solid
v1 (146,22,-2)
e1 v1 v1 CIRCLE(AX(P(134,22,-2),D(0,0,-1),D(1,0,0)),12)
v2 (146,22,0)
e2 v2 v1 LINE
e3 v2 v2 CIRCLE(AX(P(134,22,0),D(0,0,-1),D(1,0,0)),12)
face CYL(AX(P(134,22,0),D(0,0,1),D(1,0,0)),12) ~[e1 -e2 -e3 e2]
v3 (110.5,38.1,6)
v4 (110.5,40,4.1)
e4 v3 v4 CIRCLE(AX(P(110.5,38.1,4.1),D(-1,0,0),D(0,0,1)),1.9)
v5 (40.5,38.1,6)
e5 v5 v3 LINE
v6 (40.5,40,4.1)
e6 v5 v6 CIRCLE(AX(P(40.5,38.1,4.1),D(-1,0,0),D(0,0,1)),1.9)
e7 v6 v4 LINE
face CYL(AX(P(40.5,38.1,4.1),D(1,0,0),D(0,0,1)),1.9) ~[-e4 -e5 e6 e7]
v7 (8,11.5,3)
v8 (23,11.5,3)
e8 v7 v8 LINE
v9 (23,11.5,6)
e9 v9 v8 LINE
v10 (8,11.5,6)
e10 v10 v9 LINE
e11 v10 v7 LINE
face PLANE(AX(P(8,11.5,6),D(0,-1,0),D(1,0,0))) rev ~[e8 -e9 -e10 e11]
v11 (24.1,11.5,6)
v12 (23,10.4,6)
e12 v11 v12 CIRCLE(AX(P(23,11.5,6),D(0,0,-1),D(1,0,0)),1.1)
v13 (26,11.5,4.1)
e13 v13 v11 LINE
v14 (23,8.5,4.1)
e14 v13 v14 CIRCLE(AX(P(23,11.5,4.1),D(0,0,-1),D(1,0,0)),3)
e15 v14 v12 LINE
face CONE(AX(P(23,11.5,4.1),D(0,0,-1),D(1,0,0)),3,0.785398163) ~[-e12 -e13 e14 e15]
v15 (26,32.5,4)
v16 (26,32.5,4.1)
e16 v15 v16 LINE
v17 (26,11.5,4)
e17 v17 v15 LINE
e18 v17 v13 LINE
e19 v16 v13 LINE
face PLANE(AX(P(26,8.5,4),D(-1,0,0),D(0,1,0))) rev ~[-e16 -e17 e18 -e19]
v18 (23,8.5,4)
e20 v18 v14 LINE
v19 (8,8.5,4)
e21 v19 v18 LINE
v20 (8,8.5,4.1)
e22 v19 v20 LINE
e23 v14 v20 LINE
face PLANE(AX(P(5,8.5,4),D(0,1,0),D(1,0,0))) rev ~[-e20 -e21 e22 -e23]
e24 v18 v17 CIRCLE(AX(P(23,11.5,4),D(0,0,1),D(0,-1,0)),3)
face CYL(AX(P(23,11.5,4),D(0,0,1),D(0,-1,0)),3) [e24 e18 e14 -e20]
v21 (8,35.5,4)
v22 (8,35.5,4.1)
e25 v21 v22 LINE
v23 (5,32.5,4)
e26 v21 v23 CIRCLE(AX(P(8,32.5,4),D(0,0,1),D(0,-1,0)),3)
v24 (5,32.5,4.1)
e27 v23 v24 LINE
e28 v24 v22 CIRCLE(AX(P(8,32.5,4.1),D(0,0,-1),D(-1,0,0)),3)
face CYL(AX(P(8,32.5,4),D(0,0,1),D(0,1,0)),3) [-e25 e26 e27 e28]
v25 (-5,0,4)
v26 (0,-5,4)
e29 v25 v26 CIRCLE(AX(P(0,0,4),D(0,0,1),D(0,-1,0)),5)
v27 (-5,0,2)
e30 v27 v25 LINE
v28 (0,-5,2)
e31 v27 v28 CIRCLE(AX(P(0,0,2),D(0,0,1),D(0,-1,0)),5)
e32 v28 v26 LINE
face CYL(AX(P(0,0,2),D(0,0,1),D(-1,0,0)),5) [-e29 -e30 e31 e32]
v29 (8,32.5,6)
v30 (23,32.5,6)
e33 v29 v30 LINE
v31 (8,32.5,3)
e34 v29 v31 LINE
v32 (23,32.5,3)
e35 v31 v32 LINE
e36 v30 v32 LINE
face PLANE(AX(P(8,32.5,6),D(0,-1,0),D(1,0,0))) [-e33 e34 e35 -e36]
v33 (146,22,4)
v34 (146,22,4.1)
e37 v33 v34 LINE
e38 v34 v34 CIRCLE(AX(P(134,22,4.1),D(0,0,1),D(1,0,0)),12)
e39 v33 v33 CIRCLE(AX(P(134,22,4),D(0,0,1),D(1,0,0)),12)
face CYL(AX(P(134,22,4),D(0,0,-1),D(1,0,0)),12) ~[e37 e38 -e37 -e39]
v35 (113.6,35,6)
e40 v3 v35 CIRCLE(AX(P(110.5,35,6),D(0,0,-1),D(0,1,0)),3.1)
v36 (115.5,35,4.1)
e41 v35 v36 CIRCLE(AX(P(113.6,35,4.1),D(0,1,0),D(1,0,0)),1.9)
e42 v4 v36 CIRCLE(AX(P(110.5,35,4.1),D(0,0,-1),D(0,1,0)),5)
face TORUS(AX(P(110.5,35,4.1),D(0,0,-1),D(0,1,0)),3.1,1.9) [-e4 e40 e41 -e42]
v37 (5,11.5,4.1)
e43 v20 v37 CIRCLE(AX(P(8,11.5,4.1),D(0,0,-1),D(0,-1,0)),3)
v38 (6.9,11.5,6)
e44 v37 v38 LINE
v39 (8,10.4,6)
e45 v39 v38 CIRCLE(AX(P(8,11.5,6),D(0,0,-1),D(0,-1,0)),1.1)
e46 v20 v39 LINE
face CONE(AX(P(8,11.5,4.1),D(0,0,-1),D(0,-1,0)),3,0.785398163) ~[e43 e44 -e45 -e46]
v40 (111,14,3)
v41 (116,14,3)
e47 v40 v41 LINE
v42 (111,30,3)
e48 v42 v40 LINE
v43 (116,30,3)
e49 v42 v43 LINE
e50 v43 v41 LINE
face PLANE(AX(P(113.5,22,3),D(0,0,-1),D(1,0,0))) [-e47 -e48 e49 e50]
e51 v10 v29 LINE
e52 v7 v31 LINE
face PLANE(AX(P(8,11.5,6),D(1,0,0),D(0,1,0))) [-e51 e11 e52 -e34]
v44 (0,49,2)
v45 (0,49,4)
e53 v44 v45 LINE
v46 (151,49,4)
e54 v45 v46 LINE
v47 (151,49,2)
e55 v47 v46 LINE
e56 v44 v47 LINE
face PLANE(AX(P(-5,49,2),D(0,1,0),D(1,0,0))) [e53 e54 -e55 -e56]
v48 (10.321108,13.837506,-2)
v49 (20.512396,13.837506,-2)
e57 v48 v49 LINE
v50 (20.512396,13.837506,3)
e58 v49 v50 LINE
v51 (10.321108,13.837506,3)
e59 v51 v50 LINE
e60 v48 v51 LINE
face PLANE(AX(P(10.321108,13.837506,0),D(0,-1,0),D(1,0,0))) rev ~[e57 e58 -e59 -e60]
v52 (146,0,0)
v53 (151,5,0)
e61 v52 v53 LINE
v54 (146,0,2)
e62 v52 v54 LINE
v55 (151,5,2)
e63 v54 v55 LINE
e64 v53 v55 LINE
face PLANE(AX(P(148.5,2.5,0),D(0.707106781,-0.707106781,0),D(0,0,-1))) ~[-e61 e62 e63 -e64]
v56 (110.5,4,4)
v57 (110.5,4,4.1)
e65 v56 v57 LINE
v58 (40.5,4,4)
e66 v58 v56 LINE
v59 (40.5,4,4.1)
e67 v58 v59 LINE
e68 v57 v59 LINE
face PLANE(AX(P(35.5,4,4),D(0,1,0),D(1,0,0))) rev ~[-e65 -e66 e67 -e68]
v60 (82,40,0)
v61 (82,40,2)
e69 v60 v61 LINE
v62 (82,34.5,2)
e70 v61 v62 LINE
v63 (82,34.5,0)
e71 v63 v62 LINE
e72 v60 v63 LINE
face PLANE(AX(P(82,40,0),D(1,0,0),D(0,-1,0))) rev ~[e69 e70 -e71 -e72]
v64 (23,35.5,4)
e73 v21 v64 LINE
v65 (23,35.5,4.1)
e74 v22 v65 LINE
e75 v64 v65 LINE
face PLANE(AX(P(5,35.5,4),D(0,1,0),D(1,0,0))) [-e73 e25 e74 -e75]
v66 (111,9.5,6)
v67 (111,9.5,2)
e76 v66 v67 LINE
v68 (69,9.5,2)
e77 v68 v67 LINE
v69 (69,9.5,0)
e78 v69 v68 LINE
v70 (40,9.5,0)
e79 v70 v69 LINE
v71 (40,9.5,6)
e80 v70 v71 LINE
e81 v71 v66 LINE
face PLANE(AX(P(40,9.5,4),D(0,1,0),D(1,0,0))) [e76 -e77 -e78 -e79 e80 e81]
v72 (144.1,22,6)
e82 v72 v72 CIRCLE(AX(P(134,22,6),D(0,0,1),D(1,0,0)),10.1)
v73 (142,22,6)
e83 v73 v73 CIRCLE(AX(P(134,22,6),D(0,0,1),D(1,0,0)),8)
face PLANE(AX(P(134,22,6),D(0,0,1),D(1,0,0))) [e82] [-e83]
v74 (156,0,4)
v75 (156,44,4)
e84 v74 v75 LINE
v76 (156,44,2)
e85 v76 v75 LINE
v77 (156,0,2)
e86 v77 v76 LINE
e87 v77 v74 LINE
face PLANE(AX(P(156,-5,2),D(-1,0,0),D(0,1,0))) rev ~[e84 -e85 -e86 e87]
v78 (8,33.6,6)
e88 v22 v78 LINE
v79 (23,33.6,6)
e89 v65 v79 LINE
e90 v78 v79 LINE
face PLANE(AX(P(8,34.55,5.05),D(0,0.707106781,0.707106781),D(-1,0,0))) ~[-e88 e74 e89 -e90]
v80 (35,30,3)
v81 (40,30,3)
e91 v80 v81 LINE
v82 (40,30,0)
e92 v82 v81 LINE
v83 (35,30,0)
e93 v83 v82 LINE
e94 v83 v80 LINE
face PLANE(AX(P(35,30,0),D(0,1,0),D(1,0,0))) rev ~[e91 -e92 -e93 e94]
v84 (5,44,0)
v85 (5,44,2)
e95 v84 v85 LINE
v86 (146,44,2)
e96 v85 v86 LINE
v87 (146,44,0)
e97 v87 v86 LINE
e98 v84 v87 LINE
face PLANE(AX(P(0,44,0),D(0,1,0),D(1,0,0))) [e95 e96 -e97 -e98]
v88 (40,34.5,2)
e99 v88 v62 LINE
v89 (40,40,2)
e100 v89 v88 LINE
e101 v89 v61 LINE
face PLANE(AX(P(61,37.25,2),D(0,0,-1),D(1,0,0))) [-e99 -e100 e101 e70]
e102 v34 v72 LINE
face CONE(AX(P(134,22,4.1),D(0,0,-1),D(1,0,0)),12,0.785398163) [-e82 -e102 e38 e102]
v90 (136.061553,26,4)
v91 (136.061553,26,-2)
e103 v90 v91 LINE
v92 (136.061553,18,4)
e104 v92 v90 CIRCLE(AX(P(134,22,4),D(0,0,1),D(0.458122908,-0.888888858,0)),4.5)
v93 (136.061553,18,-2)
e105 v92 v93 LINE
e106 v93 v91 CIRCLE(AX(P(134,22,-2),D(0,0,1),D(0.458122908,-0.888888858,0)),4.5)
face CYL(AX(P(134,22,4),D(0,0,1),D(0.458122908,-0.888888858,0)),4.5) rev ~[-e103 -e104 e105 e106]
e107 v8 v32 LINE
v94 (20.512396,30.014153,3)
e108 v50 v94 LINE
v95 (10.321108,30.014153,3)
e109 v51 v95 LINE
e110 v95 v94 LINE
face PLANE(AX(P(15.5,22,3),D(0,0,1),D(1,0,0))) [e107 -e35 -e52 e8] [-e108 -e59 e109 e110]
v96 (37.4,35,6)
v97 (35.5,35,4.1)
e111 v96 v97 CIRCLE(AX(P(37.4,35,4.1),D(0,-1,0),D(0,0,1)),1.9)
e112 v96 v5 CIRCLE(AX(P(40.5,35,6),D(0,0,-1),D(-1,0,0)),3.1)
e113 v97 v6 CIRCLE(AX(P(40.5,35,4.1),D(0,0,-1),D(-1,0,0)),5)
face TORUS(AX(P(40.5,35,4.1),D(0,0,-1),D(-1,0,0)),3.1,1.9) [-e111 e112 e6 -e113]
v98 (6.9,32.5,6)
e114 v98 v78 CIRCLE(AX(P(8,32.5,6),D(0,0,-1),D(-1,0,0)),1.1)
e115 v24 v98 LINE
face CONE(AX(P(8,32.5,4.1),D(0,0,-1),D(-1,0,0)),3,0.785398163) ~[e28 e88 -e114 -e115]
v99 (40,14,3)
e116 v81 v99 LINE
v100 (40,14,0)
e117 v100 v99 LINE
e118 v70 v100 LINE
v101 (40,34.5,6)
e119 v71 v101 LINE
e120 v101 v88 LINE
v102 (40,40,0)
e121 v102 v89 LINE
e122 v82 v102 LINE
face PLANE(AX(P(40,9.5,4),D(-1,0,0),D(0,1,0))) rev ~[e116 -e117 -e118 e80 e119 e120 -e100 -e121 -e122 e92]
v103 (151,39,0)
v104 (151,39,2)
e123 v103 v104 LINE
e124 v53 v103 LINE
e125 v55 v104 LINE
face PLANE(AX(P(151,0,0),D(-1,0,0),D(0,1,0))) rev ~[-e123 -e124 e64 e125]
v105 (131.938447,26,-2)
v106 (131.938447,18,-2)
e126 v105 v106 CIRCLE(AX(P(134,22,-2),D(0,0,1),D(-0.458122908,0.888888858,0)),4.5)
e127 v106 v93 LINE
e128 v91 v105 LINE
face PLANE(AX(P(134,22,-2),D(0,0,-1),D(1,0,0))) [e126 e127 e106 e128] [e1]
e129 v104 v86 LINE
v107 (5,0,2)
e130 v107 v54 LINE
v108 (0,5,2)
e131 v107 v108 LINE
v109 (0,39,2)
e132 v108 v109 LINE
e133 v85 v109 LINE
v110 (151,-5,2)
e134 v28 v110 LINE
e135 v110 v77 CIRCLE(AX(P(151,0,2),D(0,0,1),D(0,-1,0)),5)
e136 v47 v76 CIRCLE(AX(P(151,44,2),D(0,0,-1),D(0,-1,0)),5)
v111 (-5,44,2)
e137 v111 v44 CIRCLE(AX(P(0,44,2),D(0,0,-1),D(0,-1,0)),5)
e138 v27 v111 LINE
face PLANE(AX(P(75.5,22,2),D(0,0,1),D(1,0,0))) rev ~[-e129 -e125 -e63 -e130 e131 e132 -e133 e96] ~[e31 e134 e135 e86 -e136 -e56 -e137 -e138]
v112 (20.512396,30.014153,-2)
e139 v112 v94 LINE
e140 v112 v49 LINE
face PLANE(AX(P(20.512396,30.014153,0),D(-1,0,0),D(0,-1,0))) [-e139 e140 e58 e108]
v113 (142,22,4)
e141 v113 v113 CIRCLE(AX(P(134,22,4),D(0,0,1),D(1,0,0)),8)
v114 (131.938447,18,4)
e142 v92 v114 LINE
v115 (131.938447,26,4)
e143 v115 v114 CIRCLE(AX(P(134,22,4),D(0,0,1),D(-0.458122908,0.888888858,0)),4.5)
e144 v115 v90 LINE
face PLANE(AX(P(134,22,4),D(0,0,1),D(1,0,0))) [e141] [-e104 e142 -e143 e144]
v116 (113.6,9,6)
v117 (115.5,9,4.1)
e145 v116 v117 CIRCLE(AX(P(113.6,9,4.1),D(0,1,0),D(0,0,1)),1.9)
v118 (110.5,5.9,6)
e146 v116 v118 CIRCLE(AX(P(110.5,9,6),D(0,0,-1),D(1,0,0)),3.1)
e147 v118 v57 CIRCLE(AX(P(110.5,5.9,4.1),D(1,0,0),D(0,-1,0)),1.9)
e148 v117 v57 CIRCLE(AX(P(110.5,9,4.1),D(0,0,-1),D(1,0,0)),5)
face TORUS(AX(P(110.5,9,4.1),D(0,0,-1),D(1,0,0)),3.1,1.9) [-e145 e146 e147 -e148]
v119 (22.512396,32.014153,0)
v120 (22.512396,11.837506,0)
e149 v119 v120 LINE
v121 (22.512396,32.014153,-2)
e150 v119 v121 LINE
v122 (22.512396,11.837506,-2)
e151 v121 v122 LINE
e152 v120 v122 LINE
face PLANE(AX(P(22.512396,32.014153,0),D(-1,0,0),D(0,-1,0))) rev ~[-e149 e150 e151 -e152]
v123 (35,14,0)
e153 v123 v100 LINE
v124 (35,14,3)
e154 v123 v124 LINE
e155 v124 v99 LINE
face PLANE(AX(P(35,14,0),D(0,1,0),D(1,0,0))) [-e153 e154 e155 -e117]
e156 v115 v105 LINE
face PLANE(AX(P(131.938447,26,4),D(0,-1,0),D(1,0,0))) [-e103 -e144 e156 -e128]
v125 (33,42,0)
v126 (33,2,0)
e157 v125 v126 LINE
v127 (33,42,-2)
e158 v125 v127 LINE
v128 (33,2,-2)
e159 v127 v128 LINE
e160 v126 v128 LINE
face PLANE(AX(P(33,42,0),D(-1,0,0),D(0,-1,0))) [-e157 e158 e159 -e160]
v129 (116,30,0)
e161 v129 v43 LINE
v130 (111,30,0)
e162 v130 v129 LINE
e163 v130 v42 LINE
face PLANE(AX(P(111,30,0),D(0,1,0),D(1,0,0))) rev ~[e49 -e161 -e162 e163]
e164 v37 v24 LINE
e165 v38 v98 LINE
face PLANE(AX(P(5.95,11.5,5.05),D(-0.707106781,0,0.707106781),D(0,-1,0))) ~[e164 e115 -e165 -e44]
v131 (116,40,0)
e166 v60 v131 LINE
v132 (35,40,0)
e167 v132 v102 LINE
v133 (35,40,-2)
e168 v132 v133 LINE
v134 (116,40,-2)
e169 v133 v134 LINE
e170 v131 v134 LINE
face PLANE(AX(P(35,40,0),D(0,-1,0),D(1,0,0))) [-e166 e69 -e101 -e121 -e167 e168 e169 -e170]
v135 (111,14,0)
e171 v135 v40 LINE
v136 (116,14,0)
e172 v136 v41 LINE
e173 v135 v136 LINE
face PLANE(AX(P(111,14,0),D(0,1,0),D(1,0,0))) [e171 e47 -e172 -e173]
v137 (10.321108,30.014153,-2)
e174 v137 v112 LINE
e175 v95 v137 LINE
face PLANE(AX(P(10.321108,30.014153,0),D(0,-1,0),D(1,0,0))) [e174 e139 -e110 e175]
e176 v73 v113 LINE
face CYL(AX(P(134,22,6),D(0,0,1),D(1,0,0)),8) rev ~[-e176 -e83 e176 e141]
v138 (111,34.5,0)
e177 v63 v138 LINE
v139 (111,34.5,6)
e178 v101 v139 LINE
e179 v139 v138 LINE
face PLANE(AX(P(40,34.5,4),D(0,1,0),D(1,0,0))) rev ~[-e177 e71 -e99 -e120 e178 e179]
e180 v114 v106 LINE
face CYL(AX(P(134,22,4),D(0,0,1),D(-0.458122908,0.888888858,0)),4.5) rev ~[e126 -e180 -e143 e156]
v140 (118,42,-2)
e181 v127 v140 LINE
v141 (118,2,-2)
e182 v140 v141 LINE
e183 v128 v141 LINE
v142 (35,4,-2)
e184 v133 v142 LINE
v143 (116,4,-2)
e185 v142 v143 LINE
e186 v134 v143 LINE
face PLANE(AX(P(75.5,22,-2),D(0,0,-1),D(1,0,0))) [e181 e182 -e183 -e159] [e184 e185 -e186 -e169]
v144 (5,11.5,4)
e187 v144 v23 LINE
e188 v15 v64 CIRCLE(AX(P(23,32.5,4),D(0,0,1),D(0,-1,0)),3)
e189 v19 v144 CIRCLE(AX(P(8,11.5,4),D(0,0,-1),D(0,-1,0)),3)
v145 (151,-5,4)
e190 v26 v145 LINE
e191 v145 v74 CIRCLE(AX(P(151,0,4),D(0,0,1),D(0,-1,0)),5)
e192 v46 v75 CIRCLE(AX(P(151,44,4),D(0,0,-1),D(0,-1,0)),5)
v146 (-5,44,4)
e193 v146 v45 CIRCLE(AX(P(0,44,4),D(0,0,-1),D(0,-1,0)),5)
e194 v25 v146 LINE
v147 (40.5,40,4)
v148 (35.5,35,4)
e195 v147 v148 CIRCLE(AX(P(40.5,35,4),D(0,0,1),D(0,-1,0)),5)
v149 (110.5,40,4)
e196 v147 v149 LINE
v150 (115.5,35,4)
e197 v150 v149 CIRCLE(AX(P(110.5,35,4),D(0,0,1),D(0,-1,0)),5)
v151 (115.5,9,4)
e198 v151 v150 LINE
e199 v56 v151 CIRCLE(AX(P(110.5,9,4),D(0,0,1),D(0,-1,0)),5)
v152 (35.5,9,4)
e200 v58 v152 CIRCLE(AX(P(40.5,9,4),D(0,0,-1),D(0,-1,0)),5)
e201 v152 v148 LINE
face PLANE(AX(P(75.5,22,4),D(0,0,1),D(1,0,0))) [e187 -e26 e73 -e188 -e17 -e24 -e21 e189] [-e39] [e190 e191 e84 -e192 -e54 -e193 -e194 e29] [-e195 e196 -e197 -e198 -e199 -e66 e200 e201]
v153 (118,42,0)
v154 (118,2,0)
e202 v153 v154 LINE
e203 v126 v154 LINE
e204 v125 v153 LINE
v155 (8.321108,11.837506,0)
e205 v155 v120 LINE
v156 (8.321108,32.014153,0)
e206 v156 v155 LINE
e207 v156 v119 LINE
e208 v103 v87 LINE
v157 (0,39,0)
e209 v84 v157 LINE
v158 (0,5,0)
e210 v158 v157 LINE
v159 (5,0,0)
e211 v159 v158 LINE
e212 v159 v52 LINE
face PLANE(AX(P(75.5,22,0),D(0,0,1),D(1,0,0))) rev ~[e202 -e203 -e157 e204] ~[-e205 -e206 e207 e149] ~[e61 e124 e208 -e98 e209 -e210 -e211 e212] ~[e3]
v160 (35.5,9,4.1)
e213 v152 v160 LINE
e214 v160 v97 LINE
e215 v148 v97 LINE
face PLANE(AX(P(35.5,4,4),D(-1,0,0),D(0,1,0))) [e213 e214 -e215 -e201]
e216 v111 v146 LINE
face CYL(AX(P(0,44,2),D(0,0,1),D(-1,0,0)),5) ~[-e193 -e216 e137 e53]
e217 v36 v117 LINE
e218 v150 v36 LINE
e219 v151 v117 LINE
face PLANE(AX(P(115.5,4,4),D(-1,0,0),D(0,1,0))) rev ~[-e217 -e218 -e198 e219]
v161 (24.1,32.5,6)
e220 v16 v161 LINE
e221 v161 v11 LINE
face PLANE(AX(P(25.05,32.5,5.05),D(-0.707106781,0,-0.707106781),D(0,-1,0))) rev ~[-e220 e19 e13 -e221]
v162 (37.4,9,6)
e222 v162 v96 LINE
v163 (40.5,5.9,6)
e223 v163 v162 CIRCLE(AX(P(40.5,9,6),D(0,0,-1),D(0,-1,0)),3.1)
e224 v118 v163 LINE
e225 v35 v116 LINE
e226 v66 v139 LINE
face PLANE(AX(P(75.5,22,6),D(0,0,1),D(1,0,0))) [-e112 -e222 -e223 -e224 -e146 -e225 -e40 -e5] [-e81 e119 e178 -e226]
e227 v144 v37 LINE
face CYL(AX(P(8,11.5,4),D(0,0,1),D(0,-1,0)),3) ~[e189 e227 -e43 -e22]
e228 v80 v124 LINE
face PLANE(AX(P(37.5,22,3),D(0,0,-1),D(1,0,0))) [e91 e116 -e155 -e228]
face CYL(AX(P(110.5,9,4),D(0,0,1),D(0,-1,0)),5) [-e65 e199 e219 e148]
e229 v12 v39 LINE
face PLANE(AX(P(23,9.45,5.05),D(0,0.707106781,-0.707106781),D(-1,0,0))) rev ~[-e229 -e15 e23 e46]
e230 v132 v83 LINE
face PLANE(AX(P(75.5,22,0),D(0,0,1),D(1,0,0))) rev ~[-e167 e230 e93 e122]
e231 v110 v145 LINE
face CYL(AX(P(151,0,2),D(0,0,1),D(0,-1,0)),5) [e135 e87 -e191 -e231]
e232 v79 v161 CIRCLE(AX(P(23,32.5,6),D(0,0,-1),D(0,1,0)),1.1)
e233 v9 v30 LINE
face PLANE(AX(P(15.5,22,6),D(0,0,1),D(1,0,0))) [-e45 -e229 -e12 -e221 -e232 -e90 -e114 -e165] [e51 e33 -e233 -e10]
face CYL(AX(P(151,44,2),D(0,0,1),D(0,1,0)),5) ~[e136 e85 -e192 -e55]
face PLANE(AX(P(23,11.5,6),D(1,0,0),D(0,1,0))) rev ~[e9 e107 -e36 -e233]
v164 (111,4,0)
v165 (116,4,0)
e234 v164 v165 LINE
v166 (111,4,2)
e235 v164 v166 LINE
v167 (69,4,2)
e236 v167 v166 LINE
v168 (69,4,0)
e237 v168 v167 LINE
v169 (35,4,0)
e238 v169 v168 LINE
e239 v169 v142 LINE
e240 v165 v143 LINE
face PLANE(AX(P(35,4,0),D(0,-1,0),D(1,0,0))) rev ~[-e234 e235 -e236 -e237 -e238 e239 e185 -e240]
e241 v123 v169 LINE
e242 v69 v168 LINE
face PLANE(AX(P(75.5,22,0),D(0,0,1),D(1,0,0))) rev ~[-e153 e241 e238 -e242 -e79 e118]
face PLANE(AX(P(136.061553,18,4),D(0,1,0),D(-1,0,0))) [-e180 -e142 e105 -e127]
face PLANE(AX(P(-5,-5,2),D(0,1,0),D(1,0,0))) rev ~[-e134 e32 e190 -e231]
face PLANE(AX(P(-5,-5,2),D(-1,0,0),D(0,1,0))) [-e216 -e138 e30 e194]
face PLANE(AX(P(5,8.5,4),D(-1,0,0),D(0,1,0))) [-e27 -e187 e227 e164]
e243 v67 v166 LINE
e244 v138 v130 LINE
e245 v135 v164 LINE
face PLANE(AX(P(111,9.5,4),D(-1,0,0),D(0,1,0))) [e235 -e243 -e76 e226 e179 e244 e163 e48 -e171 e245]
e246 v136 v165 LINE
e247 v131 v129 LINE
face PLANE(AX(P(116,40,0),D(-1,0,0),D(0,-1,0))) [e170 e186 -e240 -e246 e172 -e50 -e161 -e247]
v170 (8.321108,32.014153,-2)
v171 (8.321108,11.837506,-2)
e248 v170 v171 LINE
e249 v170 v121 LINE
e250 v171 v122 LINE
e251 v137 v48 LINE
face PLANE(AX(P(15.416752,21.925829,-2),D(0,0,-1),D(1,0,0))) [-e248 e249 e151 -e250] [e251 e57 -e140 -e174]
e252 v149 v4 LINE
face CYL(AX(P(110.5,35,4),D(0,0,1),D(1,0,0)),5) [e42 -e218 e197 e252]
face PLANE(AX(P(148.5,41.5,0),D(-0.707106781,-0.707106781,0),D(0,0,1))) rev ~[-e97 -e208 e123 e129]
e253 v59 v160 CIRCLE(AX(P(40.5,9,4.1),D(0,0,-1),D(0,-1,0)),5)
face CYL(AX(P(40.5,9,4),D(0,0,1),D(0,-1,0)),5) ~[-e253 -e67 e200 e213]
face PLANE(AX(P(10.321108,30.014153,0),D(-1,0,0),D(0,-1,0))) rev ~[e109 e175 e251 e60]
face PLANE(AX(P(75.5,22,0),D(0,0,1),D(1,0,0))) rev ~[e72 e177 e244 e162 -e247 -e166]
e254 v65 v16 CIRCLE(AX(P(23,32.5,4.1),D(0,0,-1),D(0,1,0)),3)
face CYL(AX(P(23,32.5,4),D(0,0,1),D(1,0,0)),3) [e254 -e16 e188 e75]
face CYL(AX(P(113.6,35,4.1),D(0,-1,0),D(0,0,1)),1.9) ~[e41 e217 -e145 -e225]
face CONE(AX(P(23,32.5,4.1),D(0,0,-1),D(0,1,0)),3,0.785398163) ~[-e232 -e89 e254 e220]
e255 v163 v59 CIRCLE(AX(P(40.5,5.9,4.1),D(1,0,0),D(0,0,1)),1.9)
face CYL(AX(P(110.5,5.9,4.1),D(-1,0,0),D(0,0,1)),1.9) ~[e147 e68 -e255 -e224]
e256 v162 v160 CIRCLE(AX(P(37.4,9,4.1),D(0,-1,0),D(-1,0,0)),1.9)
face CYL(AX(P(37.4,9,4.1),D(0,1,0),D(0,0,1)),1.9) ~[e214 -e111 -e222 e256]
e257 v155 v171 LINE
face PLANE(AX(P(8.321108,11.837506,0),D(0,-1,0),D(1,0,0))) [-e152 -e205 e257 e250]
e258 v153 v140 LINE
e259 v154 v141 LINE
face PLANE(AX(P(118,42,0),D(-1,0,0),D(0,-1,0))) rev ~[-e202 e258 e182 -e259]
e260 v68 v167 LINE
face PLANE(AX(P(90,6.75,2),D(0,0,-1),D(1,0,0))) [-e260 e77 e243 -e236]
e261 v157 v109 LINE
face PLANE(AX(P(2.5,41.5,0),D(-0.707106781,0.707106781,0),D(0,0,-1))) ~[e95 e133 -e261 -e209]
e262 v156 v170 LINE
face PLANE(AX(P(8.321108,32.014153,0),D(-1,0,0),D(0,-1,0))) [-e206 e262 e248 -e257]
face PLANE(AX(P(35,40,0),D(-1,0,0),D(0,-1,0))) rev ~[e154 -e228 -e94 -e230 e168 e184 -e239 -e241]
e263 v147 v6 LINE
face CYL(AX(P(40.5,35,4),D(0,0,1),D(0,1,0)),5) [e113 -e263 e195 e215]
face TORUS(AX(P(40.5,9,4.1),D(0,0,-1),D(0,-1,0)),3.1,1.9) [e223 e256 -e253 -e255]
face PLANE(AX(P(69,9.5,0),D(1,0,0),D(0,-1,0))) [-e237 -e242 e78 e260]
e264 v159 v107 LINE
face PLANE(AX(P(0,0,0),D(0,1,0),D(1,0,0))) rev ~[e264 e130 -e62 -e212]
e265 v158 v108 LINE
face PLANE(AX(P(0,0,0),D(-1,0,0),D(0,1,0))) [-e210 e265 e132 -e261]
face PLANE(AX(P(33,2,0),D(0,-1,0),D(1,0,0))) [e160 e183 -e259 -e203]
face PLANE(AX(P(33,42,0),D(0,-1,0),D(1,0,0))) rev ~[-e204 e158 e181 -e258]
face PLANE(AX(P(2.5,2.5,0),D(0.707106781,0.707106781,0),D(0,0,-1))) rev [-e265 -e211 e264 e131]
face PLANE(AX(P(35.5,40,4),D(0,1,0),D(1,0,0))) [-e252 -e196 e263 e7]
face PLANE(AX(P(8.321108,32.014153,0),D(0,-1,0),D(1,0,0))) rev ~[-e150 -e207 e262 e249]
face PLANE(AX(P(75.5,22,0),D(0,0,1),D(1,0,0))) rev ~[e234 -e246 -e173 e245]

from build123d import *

# Parameters (mm, degrees)
SKETCH_W        = 151
SKETCH_H        = 44
PAD_DEPTH       = 2
SKETCH001_W     = 161
SKETCH001_H     = 54
PAD001_DEPTH    = 2
SKETCH002_W     = 21
SKETCH002_H     = 27
PAD002_DEPTH    = 2
SKETCH003_W     = 15
SKETCH003_H     = 21
POCKET_DEPTH    = 3
SKETCH004_W     = 10.191287
SKETCH004_H     = 16.176647
POCKET001_DEPTH = 3.001
CHAMFER_SIZE    = 5
FILLET_R        = 5
FILLET001_R     = 3
CHAMFER001_SIZE = 1.9
SKETCH005_R     = 12
PAD003_DEPTH    = 2
SKETCH006_R     = 8
POCKET002_DEPTH = 2
CHAMFER002_SIZE = 1.9
SKETCH007_R     = 12
PAD004_DEPTH    = 2
POCKET003_DEPTH = 6.001
SKETCH009_W     = 80
SKETCH009_H     = 36
SKETCH009_W_2   = 71
SKETCH009_H_2   = 25
PAD005_DEPTH    = 2
FILLET002_R     = 5
SKETCH010_W     = 71
SKETCH010_H     = 25
POCKET004_DEPTH = 6.001
FILLET003_R     = 1.9
SKETCH011_W     = 85
SKETCH011_H     = 40
SKETCH011_W_2   = 81
SKETCH011_H_2   = 36
PAD006_DEPTH    = 2
SKETCH012_W     = 42
SKETCH012_H     = 5.5
POCKET005_DEPTH = 2
SKETCH013_W     = 5
SKETCH013_H     = 16
POCKET006_DEPTH = 3
SKETCH014_W     = 14.191287
SKETCH014_H     = 20.176647
SKETCH014_W_2   = 10.191287
SKETCH014_H_2   = 16.176647
PAD007_DEPTH    = 2


with BuildPart() as part:
    # Sketch → Pad (new body)
    with BuildSketch(Plane.XY):
        with Locations((75.5, 22)):
            Rectangle(SKETCH_W, SKETCH_H)
    extrude(amount=PAD_DEPTH)

    # Sketch001 (on Face6 of Pad) → Pad001 (join)
    with BuildSketch(Plane.XY.offset(2)):
        with Locations((75.5, 22)):
            Rectangle(SKETCH001_W, SKETCH001_H)
    extrude(amount=PAD001_DEPTH)

    # Sketch002 (on Face11 of Pad001) → Pad002 (join)
    with BuildSketch(Plane.XY.offset(4)):
        with Locations((15.5, 22)):
            Rectangle(SKETCH002_W, SKETCH002_H)
    extrude(amount=PAD002_DEPTH)

    # Sketch003 (on Face16 of Pad002) → Pocket (cut)
    with BuildSketch(Plane.XY.offset(6)):
        with Locations((15.5, 22)):
            Rectangle(SKETCH003_W, SKETCH003_H)
    extrude(amount=-POCKET_DEPTH, mode=Mode.SUBTRACT)

    # Sketch004 (on Face21 of Pocket) → Pocket001 (cut, through all)
    with BuildSketch(Plane.XY.offset(3)):
        with Locations((15.416752, 21.925829)):
            Rectangle(SKETCH004_W, SKETCH004_H)
    extrude(amount=-POCKET001_DEPTH, mode=Mode.SUBTRACT)

    # Chamfer
    chamfer_edges = [part.edges().sort_by_distance(p)[0] for p in [
        (151, 0, 1),
        (151, 44, 1),
        (0, 44, 1),
        (0, 0, 1),
    ]]
    chamfer(chamfer_edges, length=CHAMFER_SIZE)

    # Fillet
    fillet_edges = [part.edges().sort_by_distance(p)[0] for p in [
        (-5, -5, 3),
        (-5, 49, 3),
        (156, -5, 3),
        (156, 49, 3),
    ]]
    fillet(fillet_edges, radius=FILLET_R)

    # Fillet001
    fillet001_edges = [part.edges().sort_by_distance(p)[0] for p in [
        (26, 8.5, 5),
        (26, 35.5, 5),
        (5, 8.5, 5),
        (5, 35.5, 5),
    ]]
    fillet(fillet001_edges, radius=FILLET001_R)

    # Chamfer001
    chamfer001_edges = [part.edges().sort_by_distance(p)[0] for p in [
        (5, 22, 6),
    ]]
    chamfer(chamfer001_edges, length=CHAMFER001_SIZE)

    # Sketch005 (on Face4 of Chamfer001) → Pad003 (join)
    with BuildSketch(Plane.XY.offset(4)):
        with Locations((134, 22)):
            Circle(SKETCH005_R)
    extrude(amount=PAD003_DEPTH)

    # Sketch006 (on Face33 of Pad003) → Pocket002 (cut)
    with BuildSketch(Plane.XY.offset(6)):
        with Locations((134, 22)):
            Circle(SKETCH006_R)
    extrude(amount=-POCKET002_DEPTH, mode=Mode.SUBTRACT)

    # Chamfer002
    chamfer002_edges = [part.edges().sort_by_distance(p)[0] for p in [
        (122, 22, 6),
    ]]
    chamfer(chamfer002_edges, length=CHAMFER002_SIZE)

    # Sketch007 (on Face41 of Chamfer002) → Pad004 (join)
    with BuildSketch(Plane(origin=(0, 0, 0), x_dir=(1, 0, 0), z_dir=(0, 0, -1))):
        with Locations((134, -22)):
            Circle(SKETCH007_R)
    extrude(amount=PAD004_DEPTH)

    # Sketch008 (on Face31 of Pad004) → Pocket003 (cut, through all)
    with BuildSketch(Plane.XY.offset(4)):
        with BuildLine():
            ThreePointArc((131.938447, 26), (129.5, 22), (131.938447, 18))
            Line((136.061553, 18), (131.938447, 18))
            ThreePointArc((136.061553, 18), (138.5, 22), (136.061553, 26))
            Line((131.938447, 26), (136.061553, 26))
        make_face()
    extrude(amount=-POCKET003_DEPTH, mode=Mode.SUBTRACT)

    # Sketch009 (on Face3 of Pocket003) → Pad005 (join)
    with BuildSketch(Plane.XY.offset(4)):
        with Locations((75.5, 22)):
            Rectangle(SKETCH009_W, SKETCH009_H)
        with Locations((75.5, 22)):
            Rectangle(SKETCH009_W_2, SKETCH009_H_2, mode=Mode.SUBTRACT)
    extrude(amount=PAD005_DEPTH)

    # Fillet002
    fillet002_edges = [part.edges().sort_by_distance(p)[0] for p in [
        (115.5, 4, 5),
        (115.5, 40, 5),
        (35.5, 4, 5),
        (35.5, 40, 5),
    ]]
    fillet(fillet002_edges, radius=FILLET002_R)

    # Sketch010 (on Face52 of Fillet002) → Pocket004 (cut, through all)
    with BuildSketch(Plane.XY.offset(4)):
        with Locations((75.5, 22)):
            Rectangle(SKETCH010_W, SKETCH010_H)
    extrude(amount=-POCKET004_DEPTH, mode=Mode.SUBTRACT)

    # Fillet003
    fillet003_edges = [part.edges().sort_by_distance(p)[0] for p in [
        (75.5, 40, 6),
    ]]
    fillet(fillet003_edges, radius=FILLET003_R)

    # Sketch011 (on Face64 of Fillet003) → Pad006 (join)
    with BuildSketch(Plane(origin=(0, 0, 0), x_dir=(1, 0, 0), z_dir=(0, 0, -1))):
        with Locations((75.5, -22)):
            Rectangle(SKETCH011_W, SKETCH011_H)
        with Locations((75.5, -22)):
            Rectangle(SKETCH011_W_2, SKETCH011_H_2, mode=Mode.SUBTRACT)
    extrude(amount=PAD006_DEPTH)

    # Sketch012 (on Face64 of Pad006) → Pocket005 (cut)
    with BuildSketch(Plane(origin=(0, 0, 0), x_dir=(1, 0, 0), z_dir=(0, 0, -1))):
        with Locations((90, -6.75)):
            Rectangle(SKETCH012_W, SKETCH012_H)
        with Locations((61, -37.25)):
            Rectangle(SKETCH012_W, SKETCH012_H)
    extrude(amount=-POCKET005_DEPTH, mode=Mode.SUBTRACT)

    # Sketch013 (on Face68 of Pocket005) → Pocket006 (cut)
    with BuildSketch(Plane(origin=(0, 0, 0), x_dir=(1, 0, 0), z_dir=(0, 0, -1))):
        with Locations((37.5, -22)):
            Rectangle(SKETCH013_W, SKETCH013_H)
        with Locations((113.5, -22)):
            Rectangle(SKETCH013_W, SKETCH013_H)
    extrude(amount=-POCKET006_DEPTH, mode=Mode.SUBTRACT)

    # Sketch014 (on Face80 of Pocket006) → Pad007 (join)
    with BuildSketch(Plane(origin=(0, 0, 0), x_dir=(1, 0, 0), z_dir=(0, 0, -1))):
        with Locations((15.416752, -21.925829)):
            Rectangle(SKETCH014_W, SKETCH014_H)
        with Locations((15.416752, -21.925829)):
            Rectangle(SKETCH014_W_2, SKETCH014_H_2, mode=Mode.SUBTRACT)
    extrude(amount=PAD007_DEPTH)


solid = part.part
